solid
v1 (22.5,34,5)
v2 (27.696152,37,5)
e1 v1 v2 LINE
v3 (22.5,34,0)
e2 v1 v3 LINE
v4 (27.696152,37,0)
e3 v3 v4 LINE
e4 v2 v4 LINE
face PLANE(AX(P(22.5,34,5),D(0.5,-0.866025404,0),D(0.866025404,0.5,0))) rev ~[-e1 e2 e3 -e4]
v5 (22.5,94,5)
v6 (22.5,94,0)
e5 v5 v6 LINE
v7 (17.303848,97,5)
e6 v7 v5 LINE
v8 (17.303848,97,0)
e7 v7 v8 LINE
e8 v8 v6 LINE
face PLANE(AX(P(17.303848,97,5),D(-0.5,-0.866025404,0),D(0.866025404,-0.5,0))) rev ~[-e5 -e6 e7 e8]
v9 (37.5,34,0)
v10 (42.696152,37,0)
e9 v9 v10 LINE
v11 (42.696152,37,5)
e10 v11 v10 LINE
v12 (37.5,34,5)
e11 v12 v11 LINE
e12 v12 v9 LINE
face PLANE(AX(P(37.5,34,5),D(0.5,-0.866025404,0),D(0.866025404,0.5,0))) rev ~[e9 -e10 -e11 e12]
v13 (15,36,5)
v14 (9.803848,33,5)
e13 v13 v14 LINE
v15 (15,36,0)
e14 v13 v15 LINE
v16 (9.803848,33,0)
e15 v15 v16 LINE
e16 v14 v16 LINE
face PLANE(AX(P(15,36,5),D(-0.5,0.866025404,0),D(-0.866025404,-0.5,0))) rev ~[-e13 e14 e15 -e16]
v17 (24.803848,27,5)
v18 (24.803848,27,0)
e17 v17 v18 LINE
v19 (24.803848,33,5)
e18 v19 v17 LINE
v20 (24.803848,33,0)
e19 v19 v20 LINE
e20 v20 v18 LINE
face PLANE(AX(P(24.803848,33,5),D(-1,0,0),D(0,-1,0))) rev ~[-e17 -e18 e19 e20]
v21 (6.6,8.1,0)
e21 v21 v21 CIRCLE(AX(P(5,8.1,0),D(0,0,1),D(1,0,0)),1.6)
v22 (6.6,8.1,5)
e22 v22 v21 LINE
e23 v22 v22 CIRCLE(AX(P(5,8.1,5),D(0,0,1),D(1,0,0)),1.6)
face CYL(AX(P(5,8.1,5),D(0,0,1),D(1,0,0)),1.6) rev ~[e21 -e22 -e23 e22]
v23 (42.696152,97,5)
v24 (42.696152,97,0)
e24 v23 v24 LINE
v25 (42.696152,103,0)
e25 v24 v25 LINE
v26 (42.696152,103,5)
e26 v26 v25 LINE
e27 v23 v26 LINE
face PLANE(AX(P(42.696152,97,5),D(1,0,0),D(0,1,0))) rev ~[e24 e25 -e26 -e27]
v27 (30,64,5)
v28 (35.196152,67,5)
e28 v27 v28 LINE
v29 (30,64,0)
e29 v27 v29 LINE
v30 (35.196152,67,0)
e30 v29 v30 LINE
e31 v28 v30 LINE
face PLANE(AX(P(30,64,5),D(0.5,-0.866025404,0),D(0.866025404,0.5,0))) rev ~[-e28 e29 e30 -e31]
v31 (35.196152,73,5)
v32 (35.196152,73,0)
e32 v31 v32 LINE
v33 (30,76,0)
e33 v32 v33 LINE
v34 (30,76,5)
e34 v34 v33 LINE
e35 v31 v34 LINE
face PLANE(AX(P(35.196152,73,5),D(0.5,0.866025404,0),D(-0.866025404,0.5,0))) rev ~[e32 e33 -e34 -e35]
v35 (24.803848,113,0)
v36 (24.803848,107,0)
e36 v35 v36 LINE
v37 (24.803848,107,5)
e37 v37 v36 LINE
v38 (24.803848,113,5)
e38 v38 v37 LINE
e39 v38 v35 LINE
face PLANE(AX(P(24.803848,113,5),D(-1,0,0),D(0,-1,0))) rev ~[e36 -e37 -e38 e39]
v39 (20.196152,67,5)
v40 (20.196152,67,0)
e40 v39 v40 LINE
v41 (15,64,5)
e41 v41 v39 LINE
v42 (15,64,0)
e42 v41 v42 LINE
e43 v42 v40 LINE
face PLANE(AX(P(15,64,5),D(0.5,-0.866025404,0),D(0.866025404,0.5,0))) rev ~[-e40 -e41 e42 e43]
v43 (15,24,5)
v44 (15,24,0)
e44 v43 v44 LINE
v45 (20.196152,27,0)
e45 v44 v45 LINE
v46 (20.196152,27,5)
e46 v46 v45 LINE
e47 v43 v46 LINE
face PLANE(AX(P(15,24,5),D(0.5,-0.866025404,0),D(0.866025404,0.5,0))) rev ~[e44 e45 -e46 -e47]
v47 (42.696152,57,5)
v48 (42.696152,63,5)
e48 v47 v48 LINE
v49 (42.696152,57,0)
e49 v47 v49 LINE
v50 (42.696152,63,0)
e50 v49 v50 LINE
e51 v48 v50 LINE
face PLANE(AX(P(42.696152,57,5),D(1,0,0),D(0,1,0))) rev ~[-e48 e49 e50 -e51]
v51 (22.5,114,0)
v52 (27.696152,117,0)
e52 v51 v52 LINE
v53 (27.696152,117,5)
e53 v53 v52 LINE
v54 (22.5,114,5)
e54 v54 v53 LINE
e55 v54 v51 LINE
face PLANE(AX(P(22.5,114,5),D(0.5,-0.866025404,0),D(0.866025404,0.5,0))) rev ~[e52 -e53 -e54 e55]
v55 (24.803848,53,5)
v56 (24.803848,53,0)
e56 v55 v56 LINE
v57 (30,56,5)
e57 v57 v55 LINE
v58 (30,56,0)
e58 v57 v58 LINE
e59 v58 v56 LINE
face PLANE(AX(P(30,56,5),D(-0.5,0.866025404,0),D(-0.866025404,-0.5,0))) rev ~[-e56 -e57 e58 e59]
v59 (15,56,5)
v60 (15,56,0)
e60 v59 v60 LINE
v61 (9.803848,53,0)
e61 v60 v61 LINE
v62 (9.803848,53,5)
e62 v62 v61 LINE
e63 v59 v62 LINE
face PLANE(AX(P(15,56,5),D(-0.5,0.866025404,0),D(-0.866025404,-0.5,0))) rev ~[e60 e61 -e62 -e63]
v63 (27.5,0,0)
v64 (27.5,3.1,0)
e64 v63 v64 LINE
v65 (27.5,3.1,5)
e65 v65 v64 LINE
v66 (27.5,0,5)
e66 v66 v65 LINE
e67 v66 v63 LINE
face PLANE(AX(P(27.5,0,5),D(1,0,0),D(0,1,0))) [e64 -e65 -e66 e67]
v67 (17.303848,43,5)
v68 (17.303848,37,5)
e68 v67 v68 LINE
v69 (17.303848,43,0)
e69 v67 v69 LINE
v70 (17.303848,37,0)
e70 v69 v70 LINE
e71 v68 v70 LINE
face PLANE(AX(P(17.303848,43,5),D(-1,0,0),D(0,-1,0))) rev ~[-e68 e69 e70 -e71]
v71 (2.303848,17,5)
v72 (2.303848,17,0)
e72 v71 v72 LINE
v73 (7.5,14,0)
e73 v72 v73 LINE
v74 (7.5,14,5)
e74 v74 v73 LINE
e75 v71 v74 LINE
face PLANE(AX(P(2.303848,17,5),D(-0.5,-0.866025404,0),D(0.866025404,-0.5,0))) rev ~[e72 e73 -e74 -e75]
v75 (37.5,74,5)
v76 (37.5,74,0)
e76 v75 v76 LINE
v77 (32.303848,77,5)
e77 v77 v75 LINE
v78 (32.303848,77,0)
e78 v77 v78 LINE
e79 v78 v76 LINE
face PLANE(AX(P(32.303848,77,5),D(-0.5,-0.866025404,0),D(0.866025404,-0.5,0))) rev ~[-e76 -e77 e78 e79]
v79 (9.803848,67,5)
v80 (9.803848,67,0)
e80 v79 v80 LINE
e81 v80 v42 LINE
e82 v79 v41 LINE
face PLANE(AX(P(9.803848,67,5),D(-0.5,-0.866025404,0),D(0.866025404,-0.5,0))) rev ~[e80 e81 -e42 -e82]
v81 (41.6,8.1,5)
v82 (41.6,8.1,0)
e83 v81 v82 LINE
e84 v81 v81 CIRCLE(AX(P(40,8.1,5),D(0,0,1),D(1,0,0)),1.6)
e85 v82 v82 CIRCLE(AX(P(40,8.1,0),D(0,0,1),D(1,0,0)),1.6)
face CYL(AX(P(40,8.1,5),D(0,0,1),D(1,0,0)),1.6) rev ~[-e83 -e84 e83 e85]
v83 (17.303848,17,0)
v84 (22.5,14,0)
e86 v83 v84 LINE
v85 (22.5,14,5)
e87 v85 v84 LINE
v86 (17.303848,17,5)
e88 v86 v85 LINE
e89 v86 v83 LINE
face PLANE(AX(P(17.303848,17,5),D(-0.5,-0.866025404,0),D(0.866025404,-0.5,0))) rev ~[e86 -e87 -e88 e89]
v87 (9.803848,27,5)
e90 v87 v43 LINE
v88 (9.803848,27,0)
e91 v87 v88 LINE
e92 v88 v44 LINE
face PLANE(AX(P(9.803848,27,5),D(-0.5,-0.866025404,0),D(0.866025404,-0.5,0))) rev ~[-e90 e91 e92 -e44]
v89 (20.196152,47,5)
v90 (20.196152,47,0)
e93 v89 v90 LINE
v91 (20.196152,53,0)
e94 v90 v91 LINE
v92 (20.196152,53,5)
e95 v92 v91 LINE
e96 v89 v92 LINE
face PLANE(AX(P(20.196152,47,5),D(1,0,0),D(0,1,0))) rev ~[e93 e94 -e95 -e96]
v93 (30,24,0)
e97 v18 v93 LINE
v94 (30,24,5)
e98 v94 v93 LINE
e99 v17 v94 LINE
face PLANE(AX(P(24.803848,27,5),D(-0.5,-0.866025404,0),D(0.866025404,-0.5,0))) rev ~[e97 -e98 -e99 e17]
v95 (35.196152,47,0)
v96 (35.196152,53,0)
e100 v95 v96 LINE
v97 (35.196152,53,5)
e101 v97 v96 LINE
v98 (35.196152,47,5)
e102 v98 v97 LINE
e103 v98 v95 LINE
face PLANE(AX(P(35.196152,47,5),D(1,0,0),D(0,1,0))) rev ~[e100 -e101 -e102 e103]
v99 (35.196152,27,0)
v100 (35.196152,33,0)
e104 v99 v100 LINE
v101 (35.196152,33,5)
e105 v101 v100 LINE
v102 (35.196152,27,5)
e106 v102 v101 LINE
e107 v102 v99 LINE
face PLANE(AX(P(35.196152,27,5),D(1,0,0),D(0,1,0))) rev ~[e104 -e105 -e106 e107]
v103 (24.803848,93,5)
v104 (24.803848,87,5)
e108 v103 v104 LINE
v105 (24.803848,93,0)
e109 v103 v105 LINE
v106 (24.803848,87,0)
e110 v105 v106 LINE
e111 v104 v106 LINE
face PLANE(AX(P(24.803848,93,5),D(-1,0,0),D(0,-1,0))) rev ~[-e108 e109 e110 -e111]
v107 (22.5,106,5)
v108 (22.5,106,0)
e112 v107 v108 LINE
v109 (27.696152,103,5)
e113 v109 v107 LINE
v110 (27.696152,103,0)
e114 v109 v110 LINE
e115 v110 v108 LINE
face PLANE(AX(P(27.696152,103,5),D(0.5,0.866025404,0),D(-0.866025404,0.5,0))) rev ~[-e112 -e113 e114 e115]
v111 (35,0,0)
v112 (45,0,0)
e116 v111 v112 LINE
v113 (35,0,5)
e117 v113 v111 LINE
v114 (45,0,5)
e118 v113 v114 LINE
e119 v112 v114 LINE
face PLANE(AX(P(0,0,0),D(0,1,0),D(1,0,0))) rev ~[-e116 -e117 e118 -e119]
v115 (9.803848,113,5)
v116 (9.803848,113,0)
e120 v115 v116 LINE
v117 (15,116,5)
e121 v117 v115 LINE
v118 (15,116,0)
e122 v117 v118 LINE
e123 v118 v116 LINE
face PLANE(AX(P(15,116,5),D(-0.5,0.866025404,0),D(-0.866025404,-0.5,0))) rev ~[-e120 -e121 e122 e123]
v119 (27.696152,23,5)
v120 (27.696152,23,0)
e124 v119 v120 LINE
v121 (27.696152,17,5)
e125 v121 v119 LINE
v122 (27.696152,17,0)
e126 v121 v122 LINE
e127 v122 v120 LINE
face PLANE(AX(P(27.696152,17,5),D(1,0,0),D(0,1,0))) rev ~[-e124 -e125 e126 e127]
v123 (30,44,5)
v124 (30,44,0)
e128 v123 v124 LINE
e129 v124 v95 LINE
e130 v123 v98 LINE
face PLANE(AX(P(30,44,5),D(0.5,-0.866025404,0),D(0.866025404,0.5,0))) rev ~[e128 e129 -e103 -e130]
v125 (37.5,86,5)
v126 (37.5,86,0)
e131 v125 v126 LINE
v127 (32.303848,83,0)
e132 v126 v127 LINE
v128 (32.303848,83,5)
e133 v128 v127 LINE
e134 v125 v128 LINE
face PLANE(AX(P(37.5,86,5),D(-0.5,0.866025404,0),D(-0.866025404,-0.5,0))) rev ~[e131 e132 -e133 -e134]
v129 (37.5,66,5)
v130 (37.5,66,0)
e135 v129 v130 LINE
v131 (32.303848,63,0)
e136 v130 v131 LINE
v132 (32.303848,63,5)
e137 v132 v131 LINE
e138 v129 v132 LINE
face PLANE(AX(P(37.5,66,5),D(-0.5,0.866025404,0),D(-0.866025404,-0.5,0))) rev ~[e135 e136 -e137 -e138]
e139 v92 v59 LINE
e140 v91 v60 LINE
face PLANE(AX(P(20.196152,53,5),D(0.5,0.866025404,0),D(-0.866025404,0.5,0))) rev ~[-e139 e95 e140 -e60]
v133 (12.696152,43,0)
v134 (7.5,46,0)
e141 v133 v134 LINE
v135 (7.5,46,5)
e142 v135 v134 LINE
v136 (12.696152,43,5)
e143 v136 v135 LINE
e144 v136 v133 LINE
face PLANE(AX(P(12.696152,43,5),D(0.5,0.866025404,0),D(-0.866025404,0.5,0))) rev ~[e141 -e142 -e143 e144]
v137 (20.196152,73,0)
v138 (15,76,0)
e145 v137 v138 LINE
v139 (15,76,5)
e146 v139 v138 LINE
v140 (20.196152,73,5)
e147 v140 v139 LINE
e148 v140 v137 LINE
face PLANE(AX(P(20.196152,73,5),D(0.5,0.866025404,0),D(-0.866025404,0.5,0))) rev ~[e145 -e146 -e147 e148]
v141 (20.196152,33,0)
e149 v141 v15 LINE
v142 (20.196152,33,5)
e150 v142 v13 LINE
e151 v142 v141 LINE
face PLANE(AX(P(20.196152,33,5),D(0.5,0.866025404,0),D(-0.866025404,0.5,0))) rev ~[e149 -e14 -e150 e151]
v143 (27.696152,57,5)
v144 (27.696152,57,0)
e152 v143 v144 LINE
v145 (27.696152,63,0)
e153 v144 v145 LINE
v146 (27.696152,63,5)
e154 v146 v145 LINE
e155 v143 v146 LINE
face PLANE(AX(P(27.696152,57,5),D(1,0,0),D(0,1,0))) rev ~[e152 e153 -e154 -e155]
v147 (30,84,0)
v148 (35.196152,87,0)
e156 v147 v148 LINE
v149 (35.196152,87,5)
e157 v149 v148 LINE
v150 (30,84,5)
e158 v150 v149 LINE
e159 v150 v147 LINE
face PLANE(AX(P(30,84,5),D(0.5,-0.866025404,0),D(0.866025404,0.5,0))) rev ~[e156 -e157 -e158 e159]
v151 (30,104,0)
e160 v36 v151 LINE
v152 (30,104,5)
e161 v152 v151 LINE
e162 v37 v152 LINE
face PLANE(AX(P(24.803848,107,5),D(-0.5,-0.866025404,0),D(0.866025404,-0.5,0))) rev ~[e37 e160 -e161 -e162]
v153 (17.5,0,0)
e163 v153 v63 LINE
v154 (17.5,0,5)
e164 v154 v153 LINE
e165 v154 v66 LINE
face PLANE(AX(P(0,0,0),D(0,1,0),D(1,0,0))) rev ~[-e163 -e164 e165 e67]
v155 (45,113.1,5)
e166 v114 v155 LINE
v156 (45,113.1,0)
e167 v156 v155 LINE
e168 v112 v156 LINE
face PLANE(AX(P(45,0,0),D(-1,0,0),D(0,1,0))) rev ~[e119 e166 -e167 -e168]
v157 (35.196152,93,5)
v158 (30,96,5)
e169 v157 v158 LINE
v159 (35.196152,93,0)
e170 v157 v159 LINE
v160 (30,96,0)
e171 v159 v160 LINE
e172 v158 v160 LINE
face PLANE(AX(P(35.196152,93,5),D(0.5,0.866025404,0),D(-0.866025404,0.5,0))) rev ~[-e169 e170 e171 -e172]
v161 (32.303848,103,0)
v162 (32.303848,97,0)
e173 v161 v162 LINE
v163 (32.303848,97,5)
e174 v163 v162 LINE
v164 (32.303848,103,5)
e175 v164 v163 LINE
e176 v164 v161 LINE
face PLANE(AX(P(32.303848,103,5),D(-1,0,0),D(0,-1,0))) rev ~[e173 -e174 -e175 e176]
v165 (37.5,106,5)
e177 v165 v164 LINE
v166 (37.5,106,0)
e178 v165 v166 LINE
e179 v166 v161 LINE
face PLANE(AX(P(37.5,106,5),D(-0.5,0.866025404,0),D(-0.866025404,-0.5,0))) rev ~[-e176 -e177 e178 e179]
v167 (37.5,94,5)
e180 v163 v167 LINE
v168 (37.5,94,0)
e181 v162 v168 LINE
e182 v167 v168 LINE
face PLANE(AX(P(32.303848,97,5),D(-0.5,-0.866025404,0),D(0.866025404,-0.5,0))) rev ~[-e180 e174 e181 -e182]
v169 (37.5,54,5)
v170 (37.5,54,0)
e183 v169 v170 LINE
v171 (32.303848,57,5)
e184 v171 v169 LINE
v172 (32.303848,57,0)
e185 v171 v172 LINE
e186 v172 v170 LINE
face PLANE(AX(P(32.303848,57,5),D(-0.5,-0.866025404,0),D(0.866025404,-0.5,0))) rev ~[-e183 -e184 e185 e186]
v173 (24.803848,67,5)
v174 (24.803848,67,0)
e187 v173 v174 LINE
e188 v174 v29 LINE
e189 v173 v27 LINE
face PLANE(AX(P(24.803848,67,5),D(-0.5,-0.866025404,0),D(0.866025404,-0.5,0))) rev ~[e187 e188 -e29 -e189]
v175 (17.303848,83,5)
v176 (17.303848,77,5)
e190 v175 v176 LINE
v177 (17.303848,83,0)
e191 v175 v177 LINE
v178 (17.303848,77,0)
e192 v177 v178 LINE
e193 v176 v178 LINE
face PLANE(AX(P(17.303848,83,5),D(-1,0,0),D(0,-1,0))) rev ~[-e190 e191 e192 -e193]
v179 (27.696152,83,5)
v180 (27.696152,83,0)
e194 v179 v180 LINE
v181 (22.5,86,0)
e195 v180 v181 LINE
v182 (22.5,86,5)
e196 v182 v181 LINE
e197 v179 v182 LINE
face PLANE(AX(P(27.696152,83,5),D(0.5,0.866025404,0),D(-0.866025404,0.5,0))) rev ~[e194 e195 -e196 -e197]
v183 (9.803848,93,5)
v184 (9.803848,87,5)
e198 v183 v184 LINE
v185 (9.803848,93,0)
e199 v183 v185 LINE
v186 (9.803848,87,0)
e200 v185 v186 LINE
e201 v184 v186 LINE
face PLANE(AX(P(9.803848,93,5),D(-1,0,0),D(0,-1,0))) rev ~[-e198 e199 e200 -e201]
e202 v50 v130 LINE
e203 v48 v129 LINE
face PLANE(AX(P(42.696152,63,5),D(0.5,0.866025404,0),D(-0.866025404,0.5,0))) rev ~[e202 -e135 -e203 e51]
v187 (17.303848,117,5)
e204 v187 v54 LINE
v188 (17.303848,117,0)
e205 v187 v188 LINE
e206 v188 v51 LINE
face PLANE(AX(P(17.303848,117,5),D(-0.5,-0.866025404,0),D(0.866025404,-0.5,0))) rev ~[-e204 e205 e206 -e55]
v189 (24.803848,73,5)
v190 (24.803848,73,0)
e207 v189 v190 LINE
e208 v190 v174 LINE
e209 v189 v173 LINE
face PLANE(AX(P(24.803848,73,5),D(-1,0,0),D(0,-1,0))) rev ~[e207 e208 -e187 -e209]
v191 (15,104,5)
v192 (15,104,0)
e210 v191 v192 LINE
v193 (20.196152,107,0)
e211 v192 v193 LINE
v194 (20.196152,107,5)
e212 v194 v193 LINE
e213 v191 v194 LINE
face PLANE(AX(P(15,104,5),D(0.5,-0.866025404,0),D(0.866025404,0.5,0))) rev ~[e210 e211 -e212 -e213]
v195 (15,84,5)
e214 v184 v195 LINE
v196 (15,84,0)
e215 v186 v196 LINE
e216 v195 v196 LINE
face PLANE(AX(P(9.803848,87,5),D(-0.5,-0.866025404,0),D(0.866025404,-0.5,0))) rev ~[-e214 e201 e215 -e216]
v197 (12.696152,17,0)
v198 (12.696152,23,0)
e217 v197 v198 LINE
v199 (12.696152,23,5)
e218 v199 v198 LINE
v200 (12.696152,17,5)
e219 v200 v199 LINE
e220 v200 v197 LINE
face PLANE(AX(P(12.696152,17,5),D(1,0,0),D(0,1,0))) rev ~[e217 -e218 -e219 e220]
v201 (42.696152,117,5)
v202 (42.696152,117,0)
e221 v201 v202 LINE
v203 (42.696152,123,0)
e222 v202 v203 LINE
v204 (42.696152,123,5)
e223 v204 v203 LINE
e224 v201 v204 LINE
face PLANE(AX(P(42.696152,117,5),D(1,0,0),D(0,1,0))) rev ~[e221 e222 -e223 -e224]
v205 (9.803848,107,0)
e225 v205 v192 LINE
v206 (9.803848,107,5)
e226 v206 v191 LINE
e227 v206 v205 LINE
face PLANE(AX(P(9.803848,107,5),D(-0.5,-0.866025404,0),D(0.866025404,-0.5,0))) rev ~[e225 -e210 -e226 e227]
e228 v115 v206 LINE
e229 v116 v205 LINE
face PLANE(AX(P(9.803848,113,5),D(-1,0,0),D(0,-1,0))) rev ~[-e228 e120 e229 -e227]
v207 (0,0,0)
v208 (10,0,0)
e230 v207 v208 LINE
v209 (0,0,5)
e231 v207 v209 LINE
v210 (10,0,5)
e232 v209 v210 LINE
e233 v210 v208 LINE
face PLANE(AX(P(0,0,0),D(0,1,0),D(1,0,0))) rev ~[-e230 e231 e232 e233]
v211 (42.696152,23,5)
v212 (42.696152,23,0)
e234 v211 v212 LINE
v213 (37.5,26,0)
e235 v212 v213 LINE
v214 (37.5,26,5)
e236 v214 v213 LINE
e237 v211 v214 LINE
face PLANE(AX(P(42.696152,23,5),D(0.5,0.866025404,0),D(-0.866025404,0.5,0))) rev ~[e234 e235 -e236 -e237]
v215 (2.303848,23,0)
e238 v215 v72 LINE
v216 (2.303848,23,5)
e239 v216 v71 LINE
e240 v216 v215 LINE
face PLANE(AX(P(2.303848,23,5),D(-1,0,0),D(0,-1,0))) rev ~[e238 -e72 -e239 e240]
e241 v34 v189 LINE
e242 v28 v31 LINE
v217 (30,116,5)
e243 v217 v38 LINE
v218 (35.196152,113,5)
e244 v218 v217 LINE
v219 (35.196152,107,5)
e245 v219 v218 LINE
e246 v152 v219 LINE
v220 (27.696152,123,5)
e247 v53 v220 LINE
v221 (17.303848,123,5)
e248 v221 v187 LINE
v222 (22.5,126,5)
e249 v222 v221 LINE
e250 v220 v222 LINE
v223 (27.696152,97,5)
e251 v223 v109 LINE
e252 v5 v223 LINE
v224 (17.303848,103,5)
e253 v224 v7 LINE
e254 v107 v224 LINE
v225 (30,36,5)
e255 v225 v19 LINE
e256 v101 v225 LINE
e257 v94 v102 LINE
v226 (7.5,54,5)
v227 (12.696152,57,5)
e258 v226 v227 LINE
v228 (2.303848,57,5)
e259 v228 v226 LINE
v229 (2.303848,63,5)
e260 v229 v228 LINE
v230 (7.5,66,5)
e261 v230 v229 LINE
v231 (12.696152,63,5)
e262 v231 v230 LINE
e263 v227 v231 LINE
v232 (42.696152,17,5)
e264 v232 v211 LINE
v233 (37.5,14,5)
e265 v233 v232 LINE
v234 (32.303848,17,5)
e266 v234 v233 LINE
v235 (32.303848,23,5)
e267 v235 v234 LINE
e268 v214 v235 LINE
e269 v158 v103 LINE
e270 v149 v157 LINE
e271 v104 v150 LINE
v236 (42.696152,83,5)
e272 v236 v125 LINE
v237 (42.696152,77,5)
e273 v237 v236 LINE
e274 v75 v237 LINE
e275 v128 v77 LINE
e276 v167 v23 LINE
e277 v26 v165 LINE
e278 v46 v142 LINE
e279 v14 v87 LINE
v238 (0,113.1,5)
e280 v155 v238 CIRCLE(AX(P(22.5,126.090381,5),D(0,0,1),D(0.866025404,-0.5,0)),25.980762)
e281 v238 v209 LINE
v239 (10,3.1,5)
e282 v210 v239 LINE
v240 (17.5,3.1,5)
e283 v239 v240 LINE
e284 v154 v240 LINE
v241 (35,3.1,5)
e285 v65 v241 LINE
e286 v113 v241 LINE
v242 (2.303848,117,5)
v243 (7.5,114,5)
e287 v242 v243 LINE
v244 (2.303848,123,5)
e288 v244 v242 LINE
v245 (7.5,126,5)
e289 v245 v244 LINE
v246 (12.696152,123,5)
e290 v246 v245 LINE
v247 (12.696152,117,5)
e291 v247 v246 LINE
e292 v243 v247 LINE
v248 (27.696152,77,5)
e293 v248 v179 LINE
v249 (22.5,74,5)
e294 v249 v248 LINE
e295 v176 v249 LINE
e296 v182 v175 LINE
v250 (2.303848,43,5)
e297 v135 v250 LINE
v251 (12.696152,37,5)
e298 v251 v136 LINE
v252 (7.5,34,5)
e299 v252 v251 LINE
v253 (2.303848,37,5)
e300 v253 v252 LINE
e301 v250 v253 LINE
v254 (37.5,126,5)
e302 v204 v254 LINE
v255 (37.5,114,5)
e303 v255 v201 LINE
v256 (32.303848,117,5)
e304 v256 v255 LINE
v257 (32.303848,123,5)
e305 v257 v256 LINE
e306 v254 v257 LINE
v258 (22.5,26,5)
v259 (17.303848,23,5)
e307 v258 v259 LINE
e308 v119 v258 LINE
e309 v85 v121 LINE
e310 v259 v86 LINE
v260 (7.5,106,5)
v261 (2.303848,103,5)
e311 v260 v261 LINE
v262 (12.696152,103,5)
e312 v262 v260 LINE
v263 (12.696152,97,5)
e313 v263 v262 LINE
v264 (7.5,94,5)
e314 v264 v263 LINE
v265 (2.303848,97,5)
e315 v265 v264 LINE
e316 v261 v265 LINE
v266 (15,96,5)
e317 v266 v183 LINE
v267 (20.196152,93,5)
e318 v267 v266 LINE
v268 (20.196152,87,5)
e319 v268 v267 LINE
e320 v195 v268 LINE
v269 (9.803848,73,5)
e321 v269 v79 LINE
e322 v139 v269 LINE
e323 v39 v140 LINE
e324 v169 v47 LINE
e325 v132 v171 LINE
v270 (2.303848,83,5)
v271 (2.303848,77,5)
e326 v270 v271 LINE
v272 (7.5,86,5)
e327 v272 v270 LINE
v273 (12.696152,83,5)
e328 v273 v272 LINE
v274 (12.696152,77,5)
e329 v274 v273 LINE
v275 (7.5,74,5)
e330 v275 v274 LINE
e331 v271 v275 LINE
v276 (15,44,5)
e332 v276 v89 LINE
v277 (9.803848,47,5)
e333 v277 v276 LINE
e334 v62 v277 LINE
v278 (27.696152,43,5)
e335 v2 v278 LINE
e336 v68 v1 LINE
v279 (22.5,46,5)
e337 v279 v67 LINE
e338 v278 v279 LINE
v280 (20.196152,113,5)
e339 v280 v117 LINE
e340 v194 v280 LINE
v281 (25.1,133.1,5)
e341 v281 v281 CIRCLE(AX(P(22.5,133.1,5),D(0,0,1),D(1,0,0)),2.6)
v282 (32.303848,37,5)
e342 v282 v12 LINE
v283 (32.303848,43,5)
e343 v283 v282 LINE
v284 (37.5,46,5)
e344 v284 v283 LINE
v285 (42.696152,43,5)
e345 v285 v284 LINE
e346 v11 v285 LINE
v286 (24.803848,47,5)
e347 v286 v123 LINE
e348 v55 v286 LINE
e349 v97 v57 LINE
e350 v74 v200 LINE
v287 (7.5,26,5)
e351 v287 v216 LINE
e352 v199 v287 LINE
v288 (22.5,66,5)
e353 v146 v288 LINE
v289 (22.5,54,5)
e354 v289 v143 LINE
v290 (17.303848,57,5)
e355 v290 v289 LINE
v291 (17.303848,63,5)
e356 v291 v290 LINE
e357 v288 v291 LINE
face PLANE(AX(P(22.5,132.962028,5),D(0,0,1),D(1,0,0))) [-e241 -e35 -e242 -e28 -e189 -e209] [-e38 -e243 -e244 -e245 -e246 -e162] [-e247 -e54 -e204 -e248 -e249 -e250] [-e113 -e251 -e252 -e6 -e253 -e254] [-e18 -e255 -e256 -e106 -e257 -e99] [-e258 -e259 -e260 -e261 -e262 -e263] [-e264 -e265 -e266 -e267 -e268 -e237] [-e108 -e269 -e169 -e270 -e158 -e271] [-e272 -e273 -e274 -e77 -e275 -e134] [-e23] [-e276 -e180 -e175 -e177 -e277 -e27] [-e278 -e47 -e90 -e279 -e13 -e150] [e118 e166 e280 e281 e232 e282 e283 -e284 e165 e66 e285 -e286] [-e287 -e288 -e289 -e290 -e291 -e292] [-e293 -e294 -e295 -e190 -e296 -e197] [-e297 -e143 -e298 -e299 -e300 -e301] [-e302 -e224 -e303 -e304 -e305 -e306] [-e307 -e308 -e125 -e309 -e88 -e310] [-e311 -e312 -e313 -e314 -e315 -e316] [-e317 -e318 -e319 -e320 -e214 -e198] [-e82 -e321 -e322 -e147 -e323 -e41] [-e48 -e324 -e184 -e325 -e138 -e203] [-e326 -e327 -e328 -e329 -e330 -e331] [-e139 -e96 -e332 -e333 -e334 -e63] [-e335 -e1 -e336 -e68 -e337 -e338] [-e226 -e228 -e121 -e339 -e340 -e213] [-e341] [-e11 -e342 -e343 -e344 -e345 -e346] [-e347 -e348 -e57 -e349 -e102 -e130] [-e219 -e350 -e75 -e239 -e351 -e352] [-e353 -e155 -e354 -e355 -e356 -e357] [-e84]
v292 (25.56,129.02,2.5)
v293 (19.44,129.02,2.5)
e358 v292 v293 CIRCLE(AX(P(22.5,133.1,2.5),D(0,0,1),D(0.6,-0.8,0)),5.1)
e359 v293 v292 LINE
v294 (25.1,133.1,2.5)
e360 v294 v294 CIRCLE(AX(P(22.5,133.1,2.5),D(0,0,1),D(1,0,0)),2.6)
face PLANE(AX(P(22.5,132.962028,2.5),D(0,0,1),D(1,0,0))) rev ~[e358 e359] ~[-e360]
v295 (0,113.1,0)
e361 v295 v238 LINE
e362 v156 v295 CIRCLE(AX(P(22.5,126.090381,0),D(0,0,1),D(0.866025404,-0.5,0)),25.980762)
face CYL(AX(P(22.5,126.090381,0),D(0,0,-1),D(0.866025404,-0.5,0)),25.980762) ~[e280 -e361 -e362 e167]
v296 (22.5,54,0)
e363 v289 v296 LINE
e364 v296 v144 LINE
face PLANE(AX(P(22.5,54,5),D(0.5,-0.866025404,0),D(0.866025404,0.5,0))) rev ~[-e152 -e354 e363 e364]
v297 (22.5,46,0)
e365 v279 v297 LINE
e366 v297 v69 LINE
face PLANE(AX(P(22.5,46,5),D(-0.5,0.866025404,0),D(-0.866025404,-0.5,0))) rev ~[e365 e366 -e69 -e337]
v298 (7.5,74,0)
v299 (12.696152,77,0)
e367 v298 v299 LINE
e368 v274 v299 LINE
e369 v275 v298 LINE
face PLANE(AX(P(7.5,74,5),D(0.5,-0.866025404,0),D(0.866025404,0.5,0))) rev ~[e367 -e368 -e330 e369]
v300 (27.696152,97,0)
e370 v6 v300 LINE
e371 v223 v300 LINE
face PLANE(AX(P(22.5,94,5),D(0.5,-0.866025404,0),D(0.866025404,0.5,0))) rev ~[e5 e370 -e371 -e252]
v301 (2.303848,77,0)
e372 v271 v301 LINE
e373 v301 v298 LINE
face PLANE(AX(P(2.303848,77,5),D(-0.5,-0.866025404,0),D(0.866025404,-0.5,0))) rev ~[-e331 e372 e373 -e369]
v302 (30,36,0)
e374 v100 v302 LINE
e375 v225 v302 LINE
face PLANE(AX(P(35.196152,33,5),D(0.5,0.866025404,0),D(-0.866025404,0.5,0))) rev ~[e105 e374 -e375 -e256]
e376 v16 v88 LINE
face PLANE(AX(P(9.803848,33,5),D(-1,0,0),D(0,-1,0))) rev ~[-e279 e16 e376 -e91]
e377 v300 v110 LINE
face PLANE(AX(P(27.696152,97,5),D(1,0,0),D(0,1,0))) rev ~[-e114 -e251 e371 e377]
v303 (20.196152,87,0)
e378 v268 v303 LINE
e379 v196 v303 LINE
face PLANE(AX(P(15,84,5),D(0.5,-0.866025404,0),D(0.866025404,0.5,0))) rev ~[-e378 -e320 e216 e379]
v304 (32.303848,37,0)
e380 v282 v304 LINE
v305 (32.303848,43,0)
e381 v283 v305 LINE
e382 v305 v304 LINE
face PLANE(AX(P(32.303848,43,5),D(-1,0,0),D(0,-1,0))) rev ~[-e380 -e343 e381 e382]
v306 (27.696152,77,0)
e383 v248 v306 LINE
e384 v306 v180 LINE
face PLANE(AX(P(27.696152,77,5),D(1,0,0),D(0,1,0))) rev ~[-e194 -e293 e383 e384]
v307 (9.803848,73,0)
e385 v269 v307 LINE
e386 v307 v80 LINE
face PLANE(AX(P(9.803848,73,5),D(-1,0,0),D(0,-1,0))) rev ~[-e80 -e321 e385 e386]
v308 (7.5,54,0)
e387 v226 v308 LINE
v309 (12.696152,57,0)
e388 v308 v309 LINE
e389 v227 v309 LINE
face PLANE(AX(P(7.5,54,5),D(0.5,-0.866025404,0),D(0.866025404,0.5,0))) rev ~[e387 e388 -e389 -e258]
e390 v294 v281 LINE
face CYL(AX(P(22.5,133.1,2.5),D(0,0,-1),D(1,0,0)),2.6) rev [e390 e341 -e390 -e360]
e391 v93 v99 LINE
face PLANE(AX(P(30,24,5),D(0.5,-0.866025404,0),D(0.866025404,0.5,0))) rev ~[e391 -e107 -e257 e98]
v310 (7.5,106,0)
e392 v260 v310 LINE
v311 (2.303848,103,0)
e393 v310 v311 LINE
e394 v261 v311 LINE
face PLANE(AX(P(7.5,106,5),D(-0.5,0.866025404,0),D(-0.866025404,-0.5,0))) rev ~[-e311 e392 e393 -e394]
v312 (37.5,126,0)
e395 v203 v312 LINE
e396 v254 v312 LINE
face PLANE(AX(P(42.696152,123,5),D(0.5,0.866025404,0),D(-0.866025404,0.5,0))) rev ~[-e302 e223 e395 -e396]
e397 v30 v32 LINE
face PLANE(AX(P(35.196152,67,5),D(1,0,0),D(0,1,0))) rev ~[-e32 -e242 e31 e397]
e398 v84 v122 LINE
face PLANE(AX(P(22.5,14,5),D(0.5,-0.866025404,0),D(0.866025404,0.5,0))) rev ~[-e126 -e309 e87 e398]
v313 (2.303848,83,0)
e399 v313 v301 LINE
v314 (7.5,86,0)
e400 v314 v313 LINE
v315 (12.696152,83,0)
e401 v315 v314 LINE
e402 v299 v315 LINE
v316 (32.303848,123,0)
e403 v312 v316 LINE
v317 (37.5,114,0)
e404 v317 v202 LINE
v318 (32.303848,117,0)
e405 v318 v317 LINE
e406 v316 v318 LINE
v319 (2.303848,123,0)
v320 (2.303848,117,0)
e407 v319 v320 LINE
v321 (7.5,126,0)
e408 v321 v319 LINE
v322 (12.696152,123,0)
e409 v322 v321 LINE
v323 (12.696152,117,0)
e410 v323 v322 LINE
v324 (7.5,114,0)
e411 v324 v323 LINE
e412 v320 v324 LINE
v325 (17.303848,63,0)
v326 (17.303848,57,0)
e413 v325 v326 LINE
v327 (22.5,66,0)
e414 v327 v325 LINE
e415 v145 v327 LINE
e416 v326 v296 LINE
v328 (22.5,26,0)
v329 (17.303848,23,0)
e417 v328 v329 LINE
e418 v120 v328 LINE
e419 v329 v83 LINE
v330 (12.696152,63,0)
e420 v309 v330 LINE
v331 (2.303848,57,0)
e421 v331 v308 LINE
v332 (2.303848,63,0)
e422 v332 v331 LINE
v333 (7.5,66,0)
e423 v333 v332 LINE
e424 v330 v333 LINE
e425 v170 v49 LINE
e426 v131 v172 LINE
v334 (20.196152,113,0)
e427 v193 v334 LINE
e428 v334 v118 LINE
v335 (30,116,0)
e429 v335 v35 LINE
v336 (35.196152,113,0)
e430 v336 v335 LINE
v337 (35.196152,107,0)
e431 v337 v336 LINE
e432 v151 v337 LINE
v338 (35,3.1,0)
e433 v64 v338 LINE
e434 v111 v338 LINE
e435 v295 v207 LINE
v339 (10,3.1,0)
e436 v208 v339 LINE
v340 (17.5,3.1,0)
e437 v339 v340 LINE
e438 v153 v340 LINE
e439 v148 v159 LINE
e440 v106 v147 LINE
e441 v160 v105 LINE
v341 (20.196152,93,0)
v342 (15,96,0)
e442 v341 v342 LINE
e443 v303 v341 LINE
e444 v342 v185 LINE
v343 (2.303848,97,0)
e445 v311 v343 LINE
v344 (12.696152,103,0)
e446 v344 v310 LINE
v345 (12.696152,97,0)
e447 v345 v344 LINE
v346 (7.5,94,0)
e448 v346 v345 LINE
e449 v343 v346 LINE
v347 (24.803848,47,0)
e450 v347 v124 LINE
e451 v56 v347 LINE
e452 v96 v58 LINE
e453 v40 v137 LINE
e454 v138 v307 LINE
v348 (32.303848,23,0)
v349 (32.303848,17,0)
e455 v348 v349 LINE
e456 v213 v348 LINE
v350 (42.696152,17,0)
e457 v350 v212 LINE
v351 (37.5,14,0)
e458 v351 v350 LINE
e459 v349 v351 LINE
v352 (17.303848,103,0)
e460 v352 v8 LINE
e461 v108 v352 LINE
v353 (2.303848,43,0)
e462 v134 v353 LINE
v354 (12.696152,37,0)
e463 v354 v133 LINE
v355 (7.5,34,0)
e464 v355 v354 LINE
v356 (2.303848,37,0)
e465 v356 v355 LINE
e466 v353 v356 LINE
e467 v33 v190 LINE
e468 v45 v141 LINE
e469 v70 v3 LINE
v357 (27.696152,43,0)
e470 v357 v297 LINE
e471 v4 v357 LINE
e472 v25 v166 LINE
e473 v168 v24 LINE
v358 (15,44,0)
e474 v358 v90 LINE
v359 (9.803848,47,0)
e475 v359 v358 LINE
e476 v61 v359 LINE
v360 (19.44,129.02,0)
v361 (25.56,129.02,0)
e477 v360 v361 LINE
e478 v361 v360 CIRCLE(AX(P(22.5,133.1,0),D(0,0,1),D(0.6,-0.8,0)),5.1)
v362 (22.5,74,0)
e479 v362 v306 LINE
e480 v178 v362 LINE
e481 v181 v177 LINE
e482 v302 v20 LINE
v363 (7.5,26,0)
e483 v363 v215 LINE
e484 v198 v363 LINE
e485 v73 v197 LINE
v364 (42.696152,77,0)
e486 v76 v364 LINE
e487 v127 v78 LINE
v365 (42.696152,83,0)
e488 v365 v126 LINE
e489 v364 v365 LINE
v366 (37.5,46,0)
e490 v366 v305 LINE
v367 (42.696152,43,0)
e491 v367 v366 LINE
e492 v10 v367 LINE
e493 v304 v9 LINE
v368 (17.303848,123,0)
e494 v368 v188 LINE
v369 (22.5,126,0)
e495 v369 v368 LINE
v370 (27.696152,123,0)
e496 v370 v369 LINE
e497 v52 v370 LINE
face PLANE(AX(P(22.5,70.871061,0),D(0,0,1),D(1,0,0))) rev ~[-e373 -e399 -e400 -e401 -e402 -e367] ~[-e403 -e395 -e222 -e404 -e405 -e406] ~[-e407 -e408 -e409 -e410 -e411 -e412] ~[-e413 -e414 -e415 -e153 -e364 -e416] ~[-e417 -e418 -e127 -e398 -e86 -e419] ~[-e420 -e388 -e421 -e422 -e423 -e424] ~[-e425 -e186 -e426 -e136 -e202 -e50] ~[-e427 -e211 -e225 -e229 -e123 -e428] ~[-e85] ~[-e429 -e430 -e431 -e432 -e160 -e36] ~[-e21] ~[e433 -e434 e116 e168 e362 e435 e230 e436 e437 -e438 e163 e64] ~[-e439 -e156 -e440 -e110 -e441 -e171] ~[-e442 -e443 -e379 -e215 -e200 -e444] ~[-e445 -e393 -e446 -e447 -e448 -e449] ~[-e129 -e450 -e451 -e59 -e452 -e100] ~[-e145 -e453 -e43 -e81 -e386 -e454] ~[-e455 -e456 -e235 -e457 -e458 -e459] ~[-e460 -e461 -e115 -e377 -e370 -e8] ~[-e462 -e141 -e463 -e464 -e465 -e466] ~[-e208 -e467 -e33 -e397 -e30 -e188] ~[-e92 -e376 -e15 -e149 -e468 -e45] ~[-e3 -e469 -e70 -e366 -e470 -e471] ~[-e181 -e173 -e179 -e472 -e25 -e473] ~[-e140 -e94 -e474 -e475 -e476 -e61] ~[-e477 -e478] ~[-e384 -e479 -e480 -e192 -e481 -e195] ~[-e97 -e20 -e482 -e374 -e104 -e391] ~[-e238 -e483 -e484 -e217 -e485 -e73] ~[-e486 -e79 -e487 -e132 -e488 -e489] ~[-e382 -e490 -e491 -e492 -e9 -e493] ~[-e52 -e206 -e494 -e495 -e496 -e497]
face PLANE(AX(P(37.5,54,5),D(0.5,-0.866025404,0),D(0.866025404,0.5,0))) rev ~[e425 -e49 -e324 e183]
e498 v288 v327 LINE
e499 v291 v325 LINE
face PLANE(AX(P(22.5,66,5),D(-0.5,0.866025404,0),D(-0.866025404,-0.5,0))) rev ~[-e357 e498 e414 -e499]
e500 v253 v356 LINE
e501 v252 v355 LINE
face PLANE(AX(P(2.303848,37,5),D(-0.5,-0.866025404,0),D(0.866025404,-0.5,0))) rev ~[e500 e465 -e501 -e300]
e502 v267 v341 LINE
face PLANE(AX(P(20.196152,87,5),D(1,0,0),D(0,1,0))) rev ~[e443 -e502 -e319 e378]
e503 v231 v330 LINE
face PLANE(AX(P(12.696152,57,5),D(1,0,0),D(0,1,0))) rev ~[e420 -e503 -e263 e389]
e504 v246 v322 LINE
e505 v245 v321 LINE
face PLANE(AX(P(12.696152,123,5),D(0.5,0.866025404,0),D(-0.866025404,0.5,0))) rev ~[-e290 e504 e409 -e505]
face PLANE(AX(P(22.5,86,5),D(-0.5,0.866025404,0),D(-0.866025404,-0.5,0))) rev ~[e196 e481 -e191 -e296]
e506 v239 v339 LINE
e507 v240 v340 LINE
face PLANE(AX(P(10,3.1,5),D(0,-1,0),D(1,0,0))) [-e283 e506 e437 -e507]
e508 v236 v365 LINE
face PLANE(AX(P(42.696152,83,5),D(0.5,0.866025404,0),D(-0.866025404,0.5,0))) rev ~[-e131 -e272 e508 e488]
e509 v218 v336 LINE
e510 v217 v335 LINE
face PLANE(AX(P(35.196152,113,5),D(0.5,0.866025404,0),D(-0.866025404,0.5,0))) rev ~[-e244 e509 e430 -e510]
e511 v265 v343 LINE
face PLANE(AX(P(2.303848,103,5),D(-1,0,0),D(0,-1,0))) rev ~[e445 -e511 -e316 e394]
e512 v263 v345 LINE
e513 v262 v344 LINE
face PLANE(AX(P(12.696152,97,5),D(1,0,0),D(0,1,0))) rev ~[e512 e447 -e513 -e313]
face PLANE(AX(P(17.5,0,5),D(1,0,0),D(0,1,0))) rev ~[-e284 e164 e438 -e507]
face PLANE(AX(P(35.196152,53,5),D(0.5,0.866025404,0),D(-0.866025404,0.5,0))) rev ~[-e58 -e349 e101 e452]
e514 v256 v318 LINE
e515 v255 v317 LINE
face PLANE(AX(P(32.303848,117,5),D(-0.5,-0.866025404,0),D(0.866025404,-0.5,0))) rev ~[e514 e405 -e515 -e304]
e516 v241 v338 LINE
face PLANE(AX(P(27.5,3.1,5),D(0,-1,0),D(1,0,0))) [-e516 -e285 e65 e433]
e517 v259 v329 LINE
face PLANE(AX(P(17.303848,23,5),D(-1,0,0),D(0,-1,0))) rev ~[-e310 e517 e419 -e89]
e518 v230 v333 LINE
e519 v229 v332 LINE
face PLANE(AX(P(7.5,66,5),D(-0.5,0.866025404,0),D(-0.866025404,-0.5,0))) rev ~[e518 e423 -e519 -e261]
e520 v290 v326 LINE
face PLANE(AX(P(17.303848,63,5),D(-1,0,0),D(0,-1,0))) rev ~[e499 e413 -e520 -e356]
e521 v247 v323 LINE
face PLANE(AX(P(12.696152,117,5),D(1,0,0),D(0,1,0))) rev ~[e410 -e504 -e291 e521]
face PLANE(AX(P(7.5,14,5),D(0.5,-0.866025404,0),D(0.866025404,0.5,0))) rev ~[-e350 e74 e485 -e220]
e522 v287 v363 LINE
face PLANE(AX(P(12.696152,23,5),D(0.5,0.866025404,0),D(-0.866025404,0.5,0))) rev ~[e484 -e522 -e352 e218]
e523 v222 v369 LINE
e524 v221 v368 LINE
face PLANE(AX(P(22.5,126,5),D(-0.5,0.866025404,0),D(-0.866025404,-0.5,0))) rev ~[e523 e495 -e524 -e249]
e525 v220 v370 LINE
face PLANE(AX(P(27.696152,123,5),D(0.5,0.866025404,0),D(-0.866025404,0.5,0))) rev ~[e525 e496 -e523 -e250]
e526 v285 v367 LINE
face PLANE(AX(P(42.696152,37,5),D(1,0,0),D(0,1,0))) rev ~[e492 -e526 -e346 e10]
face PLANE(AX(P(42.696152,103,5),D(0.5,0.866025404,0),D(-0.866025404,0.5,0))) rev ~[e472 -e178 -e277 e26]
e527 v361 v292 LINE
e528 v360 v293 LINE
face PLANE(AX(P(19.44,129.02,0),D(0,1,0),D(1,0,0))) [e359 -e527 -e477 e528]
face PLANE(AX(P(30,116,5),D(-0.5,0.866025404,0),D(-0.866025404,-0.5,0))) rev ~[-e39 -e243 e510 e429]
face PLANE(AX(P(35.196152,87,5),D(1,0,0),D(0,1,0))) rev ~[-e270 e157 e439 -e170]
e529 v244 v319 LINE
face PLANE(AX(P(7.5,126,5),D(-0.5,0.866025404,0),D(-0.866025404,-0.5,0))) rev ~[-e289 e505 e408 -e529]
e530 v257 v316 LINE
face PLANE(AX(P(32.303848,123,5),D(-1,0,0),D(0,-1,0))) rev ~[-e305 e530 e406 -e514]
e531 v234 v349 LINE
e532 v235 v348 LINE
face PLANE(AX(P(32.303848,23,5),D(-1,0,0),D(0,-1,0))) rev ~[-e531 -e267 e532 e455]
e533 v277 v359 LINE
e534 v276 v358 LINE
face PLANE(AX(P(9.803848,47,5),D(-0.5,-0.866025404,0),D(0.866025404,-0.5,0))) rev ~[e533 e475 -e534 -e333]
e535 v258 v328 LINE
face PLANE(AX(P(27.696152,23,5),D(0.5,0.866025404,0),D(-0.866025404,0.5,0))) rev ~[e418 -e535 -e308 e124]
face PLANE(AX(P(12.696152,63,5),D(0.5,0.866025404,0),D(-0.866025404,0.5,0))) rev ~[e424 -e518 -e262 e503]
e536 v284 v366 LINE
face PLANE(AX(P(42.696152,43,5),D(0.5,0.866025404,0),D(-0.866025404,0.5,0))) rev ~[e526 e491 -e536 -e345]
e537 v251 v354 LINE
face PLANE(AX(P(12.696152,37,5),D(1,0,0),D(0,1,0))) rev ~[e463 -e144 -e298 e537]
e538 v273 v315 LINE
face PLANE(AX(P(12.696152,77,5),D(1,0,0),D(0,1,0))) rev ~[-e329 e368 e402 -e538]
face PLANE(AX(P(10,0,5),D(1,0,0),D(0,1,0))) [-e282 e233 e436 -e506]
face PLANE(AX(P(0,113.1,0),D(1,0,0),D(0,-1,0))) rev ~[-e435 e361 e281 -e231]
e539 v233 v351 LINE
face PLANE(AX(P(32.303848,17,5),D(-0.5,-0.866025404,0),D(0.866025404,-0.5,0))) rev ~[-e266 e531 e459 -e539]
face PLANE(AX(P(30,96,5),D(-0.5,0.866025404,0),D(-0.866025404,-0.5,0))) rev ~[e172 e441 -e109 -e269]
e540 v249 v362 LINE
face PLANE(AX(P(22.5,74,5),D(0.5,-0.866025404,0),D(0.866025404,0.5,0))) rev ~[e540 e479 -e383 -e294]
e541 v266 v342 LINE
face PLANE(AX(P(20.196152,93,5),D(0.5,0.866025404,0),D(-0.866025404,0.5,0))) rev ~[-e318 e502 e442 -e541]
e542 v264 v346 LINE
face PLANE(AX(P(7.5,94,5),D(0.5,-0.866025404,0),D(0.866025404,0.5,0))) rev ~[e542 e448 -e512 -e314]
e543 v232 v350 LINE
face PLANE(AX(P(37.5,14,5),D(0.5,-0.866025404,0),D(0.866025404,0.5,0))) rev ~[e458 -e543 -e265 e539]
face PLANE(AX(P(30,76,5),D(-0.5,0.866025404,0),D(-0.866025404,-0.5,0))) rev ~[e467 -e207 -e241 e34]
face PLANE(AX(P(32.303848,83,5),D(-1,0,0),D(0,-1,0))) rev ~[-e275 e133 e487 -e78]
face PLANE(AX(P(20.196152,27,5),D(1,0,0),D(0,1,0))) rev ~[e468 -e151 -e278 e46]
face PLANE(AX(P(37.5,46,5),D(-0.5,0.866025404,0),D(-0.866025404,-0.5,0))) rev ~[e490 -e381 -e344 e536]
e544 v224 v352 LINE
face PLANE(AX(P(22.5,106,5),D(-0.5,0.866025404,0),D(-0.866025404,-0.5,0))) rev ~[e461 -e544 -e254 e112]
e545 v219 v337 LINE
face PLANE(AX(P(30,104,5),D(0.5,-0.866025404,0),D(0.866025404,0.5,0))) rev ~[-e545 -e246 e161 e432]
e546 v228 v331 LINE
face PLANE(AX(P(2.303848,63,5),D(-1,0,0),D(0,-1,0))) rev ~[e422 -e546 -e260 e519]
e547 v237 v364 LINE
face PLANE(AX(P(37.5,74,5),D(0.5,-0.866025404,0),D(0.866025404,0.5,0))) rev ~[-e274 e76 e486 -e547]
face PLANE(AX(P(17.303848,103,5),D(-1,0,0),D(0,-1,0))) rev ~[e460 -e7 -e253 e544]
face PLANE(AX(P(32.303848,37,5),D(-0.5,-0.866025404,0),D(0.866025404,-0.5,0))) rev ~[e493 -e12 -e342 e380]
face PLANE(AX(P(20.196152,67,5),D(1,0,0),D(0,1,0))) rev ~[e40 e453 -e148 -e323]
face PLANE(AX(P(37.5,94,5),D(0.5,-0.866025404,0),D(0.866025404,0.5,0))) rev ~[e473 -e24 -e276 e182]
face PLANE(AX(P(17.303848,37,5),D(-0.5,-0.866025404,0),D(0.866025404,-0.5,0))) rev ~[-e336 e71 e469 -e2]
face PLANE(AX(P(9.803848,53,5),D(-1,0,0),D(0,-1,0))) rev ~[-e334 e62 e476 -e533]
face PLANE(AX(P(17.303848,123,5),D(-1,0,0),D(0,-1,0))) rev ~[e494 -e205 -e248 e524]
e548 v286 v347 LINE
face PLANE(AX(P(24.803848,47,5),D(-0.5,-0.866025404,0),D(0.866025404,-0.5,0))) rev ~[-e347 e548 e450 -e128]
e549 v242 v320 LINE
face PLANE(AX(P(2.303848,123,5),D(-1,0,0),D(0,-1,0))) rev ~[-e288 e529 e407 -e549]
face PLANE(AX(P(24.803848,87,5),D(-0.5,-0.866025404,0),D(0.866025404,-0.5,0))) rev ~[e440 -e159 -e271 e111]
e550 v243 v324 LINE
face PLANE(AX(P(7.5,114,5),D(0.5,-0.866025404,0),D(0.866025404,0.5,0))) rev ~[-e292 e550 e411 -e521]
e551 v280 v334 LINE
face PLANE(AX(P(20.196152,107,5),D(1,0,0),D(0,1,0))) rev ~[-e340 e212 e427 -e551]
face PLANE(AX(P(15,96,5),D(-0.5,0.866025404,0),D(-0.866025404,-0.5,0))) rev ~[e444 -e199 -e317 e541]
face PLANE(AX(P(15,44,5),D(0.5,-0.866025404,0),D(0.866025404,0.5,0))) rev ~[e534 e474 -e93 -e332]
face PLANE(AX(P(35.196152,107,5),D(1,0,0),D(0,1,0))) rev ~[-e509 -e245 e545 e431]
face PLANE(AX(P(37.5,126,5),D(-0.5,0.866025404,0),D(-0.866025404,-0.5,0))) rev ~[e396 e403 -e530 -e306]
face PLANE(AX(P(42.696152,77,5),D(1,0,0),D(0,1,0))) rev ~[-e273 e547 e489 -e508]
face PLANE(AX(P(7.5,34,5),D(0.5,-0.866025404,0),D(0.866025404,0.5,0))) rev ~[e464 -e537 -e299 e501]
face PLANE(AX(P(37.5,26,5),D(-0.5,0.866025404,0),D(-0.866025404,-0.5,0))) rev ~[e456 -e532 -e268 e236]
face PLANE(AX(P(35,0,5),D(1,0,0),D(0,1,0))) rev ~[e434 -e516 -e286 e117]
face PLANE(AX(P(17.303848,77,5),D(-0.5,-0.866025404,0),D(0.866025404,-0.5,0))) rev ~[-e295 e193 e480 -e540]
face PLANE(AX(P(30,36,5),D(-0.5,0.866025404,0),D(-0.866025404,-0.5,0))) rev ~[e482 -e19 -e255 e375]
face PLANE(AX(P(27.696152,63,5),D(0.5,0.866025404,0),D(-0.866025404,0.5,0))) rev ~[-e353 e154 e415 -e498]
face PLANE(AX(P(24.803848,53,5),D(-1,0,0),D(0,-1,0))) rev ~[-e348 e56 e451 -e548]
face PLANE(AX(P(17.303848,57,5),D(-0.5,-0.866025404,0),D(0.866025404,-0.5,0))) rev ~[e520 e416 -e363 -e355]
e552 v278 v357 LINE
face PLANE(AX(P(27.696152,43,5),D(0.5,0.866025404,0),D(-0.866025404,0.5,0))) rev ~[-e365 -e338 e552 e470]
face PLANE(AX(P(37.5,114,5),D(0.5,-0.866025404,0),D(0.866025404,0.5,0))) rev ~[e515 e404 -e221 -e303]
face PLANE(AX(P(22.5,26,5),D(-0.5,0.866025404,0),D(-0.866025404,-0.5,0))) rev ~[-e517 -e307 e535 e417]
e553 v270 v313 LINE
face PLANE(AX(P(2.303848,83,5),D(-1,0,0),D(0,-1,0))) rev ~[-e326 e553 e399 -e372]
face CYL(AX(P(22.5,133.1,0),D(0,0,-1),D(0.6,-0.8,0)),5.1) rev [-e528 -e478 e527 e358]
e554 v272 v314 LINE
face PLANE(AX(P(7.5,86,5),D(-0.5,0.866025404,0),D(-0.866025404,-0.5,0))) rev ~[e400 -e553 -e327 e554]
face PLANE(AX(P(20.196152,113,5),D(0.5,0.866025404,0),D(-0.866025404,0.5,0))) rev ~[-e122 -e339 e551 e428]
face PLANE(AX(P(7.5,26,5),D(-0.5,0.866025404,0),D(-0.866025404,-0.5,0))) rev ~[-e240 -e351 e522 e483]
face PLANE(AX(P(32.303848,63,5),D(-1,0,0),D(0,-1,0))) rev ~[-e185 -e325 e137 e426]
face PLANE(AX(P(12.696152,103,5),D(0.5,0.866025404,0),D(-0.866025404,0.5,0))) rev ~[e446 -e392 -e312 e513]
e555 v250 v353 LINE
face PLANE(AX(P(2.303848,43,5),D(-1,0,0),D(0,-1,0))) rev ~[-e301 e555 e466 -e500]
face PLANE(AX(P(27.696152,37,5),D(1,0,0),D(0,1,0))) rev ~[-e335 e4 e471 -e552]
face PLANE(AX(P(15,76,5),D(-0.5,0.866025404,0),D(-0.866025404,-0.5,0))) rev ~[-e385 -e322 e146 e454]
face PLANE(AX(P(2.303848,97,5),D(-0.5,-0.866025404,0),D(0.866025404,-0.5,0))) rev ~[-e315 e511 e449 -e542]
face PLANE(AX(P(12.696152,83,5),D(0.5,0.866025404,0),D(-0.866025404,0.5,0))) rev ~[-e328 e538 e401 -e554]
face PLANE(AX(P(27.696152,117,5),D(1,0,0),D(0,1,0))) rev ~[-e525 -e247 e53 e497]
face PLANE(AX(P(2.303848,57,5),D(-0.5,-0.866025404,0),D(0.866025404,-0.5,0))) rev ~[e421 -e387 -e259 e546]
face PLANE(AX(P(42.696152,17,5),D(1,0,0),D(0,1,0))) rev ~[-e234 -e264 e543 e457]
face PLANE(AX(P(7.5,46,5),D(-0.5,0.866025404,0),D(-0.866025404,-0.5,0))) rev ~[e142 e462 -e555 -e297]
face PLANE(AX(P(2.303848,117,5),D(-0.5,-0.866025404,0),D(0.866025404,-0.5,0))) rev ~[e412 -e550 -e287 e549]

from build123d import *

# Parameters (mm, degrees)
EXTRUDE_1_DEPTH     = 5
SKETCH_2_R          = 1.6
SKETCH_2_W          = 7.5
SKETCH_2_H          = 3.1
CUT_EXTRUDE_1_DEPTH = 5
EXTRUDE_START       = -2.5
SKETCH_3_R          = 2.6
EXTRUDE_2_DEPTH     = 2.5


with BuildPart() as part:
    # 草图1 → 凸台-拉伸1 (new body)
    with BuildSketch(Plane.XY):
        with BuildLine():
            Line((0, 0), (45, 0))
            Line((45, 0), (45, 113.1))
            ThreePointArc((45, 113.1), (22.5, 152.07114317), (0, 113.1))
            Line((0, 113.1), (0, 0))
        make_face()
        with BuildLine():
            Line((19.44, 129.02), (25.56, 129.02))
            ThreePointArc((25.56, 129.02), (22.5, 138.2), (19.44, 129.02))
        make_face(mode=Mode.SUBTRACT)
    extrude(amount=EXTRUDE_1_DEPTH)

    # 草图2 → 切除-拉伸1 (cut)
    with BuildSketch(Plane.XY.offset(5)):
        with Locations((40, 8.1)):
            Circle(SKETCH_2_R)
        with Locations((5, 8.1)):
            Circle(SKETCH_2_R)
        with Locations((31.25, 1.55)):
            Rectangle(SKETCH_2_W, SKETCH_2_H)
        with Locations((13.75, 1.55)):
            Rectangle(SKETCH_2_W, SKETCH_2_H)
        Polygon((7.5, 26), (2.303847577, 23), (2.303847577, 17), (7.5, 14), (12.696152423, 17), (12.696152423, 23), align=None)
        Polygon((22.5, 26), (17.303847577, 23), (17.303847577, 17), (22.5, 14), (27.696152423, 17), (27.696152423, 23), align=None)
        Polygon((37.5, 26), (32.303847577, 23), (32.303847577, 17), (37.5, 14), (42.696152423, 17), (42.696152423, 23), align=None)
        Polygon((15, 56), (9.803847577, 53), (9.803847577, 47), (15, 44), (20.196152423, 47), (20.196152423, 53), align=None)
        Polygon((15, 36), (9.803847577, 33), (9.803847577, 27), (15, 24), (20.196152423, 27), (20.196152423, 33), align=None)
        Polygon((30, 36), (24.803847577, 33), (24.803847577, 27), (30, 24), (35.196152423, 27), (35.196152423, 33), align=None)
        Polygon((30, 56), (24.803847577, 53), (24.803847577, 47), (30, 44), (35.196152423, 47), (35.196152423, 53), align=None)
        Polygon((37.5, 46), (32.303847577, 43), (32.303847577, 37), (37.5, 34), (42.696152423, 37), (42.696152423, 43), align=None)
        Polygon((22.5, 46), (17.303847577, 43), (17.303847577, 37), (22.5, 34), (27.696152423, 37), (27.696152423, 43), align=None)
        Polygon((7.5, 46), (2.303847577, 43), (2.303847577, 37), (7.5, 34), (12.696152423, 37), (12.696152423, 43), align=None)
        Polygon((15, 76), (9.803847577, 73), (9.803847577, 67), (15, 64), (20.196152423, 67), (20.196152423, 73), align=None)
        Polygon((30, 76), (24.803847577, 73), (24.803847577, 67), (30, 64), (35.196152423, 67), (35.196152423, 73), align=None)
        Polygon((37.5, 66), (32.303847577, 63), (32.303847577, 57), (37.5, 54), (42.696152423, 57), (42.696152423, 63), align=None)
        Polygon((22.5, 66), (17.303847577, 63), (17.303847577, 57), (22.5, 54), (27.696152423, 57), (27.696152423, 63), align=None)
        Polygon((7.5, 66), (2.303847577, 63), (2.303847577, 57), (7.5, 54), (12.696152423, 57), (12.696152423, 63), align=None)
        Polygon((15, 96), (9.803847577, 93), (9.803847577, 87), (15, 84), (20.196152423, 87), (20.196152423, 93), align=None)
        Polygon((30, 96), (24.803847577, 93), (24.803847577, 87), (30, 84), (35.196152423, 87), (35.196152423, 93), align=None)
        Polygon((37.5, 86), (32.303847577, 83), (32.303847577, 77), (37.5, 74), (42.696152423, 77), (42.696152423, 83), align=None)
        Polygon((22.5, 86), (17.303847577, 83), (17.303847577, 77), (22.5, 74), (27.696152423, 77), (27.696152423, 83), align=None)
        Polygon((7.5, 86), (2.303847577, 83), (2.303847577, 77), (7.5, 74), (12.696152423, 77), (12.696152423, 83), align=None)
        Polygon((15, 116), (9.803847577, 113), (9.803847577, 107), (15, 104), (20.196152423, 107), (20.196152423, 113), align=None)
        Polygon((30, 116), (24.803847577, 113), (24.803847577, 107), (30, 104), (35.196152423, 107), (35.196152423, 113), align=None)
        Polygon((37.5, 106), (32.303847577, 103), (32.303847577, 97), (37.5, 94), (42.696152423, 97), (42.696152423, 103), align=None)
        Polygon((22.5, 106), (17.303847577, 103), (17.303847577, 97), (22.5, 94), (27.696152423, 97), (27.696152423, 103), align=None)
        Polygon((7.5, 106), (2.303847577, 103), (2.303847577, 97), (7.5, 94), (12.696152423, 97), (12.696152423, 103), align=None)
        Polygon((7.5, 126), (2.303847577, 123), (2.303847577, 117), (7.5, 114), (12.696152423, 117), (12.696152423, 123), align=None)
        Polygon((22.5, 126), (17.303847577, 123), (17.303847577, 117), (22.5, 114), (27.696152423, 117), (27.696152423, 123), align=None)
        Polygon((37.5, 126), (32.303847577, 123), (32.303847577, 117), (37.5, 114), (42.696152423, 117), (42.696152423, 123), align=None)
    extrude(amount=-CUT_EXTRUDE_1_DEPTH, mode=Mode.SUBTRACT)

    # 草图3 → 凸台-拉伸2 (add)
    with BuildSketch(Plane.XY.offset(5).offset(EXTRUDE_START)):
        with BuildLine():
            Line((19.44, 129.02), (25.56, 129.02))
            ThreePointArc((25.56, 129.02), (22.5, 138.2), (19.44, 129.02))
        make_face()
        with Locations((22.5, 133.1)):
            Circle(SKETCH_3_R, mode=Mode.SUBTRACT)
    extrude(amount=EXTRUDE_2_DEPTH)


solid = part.part
